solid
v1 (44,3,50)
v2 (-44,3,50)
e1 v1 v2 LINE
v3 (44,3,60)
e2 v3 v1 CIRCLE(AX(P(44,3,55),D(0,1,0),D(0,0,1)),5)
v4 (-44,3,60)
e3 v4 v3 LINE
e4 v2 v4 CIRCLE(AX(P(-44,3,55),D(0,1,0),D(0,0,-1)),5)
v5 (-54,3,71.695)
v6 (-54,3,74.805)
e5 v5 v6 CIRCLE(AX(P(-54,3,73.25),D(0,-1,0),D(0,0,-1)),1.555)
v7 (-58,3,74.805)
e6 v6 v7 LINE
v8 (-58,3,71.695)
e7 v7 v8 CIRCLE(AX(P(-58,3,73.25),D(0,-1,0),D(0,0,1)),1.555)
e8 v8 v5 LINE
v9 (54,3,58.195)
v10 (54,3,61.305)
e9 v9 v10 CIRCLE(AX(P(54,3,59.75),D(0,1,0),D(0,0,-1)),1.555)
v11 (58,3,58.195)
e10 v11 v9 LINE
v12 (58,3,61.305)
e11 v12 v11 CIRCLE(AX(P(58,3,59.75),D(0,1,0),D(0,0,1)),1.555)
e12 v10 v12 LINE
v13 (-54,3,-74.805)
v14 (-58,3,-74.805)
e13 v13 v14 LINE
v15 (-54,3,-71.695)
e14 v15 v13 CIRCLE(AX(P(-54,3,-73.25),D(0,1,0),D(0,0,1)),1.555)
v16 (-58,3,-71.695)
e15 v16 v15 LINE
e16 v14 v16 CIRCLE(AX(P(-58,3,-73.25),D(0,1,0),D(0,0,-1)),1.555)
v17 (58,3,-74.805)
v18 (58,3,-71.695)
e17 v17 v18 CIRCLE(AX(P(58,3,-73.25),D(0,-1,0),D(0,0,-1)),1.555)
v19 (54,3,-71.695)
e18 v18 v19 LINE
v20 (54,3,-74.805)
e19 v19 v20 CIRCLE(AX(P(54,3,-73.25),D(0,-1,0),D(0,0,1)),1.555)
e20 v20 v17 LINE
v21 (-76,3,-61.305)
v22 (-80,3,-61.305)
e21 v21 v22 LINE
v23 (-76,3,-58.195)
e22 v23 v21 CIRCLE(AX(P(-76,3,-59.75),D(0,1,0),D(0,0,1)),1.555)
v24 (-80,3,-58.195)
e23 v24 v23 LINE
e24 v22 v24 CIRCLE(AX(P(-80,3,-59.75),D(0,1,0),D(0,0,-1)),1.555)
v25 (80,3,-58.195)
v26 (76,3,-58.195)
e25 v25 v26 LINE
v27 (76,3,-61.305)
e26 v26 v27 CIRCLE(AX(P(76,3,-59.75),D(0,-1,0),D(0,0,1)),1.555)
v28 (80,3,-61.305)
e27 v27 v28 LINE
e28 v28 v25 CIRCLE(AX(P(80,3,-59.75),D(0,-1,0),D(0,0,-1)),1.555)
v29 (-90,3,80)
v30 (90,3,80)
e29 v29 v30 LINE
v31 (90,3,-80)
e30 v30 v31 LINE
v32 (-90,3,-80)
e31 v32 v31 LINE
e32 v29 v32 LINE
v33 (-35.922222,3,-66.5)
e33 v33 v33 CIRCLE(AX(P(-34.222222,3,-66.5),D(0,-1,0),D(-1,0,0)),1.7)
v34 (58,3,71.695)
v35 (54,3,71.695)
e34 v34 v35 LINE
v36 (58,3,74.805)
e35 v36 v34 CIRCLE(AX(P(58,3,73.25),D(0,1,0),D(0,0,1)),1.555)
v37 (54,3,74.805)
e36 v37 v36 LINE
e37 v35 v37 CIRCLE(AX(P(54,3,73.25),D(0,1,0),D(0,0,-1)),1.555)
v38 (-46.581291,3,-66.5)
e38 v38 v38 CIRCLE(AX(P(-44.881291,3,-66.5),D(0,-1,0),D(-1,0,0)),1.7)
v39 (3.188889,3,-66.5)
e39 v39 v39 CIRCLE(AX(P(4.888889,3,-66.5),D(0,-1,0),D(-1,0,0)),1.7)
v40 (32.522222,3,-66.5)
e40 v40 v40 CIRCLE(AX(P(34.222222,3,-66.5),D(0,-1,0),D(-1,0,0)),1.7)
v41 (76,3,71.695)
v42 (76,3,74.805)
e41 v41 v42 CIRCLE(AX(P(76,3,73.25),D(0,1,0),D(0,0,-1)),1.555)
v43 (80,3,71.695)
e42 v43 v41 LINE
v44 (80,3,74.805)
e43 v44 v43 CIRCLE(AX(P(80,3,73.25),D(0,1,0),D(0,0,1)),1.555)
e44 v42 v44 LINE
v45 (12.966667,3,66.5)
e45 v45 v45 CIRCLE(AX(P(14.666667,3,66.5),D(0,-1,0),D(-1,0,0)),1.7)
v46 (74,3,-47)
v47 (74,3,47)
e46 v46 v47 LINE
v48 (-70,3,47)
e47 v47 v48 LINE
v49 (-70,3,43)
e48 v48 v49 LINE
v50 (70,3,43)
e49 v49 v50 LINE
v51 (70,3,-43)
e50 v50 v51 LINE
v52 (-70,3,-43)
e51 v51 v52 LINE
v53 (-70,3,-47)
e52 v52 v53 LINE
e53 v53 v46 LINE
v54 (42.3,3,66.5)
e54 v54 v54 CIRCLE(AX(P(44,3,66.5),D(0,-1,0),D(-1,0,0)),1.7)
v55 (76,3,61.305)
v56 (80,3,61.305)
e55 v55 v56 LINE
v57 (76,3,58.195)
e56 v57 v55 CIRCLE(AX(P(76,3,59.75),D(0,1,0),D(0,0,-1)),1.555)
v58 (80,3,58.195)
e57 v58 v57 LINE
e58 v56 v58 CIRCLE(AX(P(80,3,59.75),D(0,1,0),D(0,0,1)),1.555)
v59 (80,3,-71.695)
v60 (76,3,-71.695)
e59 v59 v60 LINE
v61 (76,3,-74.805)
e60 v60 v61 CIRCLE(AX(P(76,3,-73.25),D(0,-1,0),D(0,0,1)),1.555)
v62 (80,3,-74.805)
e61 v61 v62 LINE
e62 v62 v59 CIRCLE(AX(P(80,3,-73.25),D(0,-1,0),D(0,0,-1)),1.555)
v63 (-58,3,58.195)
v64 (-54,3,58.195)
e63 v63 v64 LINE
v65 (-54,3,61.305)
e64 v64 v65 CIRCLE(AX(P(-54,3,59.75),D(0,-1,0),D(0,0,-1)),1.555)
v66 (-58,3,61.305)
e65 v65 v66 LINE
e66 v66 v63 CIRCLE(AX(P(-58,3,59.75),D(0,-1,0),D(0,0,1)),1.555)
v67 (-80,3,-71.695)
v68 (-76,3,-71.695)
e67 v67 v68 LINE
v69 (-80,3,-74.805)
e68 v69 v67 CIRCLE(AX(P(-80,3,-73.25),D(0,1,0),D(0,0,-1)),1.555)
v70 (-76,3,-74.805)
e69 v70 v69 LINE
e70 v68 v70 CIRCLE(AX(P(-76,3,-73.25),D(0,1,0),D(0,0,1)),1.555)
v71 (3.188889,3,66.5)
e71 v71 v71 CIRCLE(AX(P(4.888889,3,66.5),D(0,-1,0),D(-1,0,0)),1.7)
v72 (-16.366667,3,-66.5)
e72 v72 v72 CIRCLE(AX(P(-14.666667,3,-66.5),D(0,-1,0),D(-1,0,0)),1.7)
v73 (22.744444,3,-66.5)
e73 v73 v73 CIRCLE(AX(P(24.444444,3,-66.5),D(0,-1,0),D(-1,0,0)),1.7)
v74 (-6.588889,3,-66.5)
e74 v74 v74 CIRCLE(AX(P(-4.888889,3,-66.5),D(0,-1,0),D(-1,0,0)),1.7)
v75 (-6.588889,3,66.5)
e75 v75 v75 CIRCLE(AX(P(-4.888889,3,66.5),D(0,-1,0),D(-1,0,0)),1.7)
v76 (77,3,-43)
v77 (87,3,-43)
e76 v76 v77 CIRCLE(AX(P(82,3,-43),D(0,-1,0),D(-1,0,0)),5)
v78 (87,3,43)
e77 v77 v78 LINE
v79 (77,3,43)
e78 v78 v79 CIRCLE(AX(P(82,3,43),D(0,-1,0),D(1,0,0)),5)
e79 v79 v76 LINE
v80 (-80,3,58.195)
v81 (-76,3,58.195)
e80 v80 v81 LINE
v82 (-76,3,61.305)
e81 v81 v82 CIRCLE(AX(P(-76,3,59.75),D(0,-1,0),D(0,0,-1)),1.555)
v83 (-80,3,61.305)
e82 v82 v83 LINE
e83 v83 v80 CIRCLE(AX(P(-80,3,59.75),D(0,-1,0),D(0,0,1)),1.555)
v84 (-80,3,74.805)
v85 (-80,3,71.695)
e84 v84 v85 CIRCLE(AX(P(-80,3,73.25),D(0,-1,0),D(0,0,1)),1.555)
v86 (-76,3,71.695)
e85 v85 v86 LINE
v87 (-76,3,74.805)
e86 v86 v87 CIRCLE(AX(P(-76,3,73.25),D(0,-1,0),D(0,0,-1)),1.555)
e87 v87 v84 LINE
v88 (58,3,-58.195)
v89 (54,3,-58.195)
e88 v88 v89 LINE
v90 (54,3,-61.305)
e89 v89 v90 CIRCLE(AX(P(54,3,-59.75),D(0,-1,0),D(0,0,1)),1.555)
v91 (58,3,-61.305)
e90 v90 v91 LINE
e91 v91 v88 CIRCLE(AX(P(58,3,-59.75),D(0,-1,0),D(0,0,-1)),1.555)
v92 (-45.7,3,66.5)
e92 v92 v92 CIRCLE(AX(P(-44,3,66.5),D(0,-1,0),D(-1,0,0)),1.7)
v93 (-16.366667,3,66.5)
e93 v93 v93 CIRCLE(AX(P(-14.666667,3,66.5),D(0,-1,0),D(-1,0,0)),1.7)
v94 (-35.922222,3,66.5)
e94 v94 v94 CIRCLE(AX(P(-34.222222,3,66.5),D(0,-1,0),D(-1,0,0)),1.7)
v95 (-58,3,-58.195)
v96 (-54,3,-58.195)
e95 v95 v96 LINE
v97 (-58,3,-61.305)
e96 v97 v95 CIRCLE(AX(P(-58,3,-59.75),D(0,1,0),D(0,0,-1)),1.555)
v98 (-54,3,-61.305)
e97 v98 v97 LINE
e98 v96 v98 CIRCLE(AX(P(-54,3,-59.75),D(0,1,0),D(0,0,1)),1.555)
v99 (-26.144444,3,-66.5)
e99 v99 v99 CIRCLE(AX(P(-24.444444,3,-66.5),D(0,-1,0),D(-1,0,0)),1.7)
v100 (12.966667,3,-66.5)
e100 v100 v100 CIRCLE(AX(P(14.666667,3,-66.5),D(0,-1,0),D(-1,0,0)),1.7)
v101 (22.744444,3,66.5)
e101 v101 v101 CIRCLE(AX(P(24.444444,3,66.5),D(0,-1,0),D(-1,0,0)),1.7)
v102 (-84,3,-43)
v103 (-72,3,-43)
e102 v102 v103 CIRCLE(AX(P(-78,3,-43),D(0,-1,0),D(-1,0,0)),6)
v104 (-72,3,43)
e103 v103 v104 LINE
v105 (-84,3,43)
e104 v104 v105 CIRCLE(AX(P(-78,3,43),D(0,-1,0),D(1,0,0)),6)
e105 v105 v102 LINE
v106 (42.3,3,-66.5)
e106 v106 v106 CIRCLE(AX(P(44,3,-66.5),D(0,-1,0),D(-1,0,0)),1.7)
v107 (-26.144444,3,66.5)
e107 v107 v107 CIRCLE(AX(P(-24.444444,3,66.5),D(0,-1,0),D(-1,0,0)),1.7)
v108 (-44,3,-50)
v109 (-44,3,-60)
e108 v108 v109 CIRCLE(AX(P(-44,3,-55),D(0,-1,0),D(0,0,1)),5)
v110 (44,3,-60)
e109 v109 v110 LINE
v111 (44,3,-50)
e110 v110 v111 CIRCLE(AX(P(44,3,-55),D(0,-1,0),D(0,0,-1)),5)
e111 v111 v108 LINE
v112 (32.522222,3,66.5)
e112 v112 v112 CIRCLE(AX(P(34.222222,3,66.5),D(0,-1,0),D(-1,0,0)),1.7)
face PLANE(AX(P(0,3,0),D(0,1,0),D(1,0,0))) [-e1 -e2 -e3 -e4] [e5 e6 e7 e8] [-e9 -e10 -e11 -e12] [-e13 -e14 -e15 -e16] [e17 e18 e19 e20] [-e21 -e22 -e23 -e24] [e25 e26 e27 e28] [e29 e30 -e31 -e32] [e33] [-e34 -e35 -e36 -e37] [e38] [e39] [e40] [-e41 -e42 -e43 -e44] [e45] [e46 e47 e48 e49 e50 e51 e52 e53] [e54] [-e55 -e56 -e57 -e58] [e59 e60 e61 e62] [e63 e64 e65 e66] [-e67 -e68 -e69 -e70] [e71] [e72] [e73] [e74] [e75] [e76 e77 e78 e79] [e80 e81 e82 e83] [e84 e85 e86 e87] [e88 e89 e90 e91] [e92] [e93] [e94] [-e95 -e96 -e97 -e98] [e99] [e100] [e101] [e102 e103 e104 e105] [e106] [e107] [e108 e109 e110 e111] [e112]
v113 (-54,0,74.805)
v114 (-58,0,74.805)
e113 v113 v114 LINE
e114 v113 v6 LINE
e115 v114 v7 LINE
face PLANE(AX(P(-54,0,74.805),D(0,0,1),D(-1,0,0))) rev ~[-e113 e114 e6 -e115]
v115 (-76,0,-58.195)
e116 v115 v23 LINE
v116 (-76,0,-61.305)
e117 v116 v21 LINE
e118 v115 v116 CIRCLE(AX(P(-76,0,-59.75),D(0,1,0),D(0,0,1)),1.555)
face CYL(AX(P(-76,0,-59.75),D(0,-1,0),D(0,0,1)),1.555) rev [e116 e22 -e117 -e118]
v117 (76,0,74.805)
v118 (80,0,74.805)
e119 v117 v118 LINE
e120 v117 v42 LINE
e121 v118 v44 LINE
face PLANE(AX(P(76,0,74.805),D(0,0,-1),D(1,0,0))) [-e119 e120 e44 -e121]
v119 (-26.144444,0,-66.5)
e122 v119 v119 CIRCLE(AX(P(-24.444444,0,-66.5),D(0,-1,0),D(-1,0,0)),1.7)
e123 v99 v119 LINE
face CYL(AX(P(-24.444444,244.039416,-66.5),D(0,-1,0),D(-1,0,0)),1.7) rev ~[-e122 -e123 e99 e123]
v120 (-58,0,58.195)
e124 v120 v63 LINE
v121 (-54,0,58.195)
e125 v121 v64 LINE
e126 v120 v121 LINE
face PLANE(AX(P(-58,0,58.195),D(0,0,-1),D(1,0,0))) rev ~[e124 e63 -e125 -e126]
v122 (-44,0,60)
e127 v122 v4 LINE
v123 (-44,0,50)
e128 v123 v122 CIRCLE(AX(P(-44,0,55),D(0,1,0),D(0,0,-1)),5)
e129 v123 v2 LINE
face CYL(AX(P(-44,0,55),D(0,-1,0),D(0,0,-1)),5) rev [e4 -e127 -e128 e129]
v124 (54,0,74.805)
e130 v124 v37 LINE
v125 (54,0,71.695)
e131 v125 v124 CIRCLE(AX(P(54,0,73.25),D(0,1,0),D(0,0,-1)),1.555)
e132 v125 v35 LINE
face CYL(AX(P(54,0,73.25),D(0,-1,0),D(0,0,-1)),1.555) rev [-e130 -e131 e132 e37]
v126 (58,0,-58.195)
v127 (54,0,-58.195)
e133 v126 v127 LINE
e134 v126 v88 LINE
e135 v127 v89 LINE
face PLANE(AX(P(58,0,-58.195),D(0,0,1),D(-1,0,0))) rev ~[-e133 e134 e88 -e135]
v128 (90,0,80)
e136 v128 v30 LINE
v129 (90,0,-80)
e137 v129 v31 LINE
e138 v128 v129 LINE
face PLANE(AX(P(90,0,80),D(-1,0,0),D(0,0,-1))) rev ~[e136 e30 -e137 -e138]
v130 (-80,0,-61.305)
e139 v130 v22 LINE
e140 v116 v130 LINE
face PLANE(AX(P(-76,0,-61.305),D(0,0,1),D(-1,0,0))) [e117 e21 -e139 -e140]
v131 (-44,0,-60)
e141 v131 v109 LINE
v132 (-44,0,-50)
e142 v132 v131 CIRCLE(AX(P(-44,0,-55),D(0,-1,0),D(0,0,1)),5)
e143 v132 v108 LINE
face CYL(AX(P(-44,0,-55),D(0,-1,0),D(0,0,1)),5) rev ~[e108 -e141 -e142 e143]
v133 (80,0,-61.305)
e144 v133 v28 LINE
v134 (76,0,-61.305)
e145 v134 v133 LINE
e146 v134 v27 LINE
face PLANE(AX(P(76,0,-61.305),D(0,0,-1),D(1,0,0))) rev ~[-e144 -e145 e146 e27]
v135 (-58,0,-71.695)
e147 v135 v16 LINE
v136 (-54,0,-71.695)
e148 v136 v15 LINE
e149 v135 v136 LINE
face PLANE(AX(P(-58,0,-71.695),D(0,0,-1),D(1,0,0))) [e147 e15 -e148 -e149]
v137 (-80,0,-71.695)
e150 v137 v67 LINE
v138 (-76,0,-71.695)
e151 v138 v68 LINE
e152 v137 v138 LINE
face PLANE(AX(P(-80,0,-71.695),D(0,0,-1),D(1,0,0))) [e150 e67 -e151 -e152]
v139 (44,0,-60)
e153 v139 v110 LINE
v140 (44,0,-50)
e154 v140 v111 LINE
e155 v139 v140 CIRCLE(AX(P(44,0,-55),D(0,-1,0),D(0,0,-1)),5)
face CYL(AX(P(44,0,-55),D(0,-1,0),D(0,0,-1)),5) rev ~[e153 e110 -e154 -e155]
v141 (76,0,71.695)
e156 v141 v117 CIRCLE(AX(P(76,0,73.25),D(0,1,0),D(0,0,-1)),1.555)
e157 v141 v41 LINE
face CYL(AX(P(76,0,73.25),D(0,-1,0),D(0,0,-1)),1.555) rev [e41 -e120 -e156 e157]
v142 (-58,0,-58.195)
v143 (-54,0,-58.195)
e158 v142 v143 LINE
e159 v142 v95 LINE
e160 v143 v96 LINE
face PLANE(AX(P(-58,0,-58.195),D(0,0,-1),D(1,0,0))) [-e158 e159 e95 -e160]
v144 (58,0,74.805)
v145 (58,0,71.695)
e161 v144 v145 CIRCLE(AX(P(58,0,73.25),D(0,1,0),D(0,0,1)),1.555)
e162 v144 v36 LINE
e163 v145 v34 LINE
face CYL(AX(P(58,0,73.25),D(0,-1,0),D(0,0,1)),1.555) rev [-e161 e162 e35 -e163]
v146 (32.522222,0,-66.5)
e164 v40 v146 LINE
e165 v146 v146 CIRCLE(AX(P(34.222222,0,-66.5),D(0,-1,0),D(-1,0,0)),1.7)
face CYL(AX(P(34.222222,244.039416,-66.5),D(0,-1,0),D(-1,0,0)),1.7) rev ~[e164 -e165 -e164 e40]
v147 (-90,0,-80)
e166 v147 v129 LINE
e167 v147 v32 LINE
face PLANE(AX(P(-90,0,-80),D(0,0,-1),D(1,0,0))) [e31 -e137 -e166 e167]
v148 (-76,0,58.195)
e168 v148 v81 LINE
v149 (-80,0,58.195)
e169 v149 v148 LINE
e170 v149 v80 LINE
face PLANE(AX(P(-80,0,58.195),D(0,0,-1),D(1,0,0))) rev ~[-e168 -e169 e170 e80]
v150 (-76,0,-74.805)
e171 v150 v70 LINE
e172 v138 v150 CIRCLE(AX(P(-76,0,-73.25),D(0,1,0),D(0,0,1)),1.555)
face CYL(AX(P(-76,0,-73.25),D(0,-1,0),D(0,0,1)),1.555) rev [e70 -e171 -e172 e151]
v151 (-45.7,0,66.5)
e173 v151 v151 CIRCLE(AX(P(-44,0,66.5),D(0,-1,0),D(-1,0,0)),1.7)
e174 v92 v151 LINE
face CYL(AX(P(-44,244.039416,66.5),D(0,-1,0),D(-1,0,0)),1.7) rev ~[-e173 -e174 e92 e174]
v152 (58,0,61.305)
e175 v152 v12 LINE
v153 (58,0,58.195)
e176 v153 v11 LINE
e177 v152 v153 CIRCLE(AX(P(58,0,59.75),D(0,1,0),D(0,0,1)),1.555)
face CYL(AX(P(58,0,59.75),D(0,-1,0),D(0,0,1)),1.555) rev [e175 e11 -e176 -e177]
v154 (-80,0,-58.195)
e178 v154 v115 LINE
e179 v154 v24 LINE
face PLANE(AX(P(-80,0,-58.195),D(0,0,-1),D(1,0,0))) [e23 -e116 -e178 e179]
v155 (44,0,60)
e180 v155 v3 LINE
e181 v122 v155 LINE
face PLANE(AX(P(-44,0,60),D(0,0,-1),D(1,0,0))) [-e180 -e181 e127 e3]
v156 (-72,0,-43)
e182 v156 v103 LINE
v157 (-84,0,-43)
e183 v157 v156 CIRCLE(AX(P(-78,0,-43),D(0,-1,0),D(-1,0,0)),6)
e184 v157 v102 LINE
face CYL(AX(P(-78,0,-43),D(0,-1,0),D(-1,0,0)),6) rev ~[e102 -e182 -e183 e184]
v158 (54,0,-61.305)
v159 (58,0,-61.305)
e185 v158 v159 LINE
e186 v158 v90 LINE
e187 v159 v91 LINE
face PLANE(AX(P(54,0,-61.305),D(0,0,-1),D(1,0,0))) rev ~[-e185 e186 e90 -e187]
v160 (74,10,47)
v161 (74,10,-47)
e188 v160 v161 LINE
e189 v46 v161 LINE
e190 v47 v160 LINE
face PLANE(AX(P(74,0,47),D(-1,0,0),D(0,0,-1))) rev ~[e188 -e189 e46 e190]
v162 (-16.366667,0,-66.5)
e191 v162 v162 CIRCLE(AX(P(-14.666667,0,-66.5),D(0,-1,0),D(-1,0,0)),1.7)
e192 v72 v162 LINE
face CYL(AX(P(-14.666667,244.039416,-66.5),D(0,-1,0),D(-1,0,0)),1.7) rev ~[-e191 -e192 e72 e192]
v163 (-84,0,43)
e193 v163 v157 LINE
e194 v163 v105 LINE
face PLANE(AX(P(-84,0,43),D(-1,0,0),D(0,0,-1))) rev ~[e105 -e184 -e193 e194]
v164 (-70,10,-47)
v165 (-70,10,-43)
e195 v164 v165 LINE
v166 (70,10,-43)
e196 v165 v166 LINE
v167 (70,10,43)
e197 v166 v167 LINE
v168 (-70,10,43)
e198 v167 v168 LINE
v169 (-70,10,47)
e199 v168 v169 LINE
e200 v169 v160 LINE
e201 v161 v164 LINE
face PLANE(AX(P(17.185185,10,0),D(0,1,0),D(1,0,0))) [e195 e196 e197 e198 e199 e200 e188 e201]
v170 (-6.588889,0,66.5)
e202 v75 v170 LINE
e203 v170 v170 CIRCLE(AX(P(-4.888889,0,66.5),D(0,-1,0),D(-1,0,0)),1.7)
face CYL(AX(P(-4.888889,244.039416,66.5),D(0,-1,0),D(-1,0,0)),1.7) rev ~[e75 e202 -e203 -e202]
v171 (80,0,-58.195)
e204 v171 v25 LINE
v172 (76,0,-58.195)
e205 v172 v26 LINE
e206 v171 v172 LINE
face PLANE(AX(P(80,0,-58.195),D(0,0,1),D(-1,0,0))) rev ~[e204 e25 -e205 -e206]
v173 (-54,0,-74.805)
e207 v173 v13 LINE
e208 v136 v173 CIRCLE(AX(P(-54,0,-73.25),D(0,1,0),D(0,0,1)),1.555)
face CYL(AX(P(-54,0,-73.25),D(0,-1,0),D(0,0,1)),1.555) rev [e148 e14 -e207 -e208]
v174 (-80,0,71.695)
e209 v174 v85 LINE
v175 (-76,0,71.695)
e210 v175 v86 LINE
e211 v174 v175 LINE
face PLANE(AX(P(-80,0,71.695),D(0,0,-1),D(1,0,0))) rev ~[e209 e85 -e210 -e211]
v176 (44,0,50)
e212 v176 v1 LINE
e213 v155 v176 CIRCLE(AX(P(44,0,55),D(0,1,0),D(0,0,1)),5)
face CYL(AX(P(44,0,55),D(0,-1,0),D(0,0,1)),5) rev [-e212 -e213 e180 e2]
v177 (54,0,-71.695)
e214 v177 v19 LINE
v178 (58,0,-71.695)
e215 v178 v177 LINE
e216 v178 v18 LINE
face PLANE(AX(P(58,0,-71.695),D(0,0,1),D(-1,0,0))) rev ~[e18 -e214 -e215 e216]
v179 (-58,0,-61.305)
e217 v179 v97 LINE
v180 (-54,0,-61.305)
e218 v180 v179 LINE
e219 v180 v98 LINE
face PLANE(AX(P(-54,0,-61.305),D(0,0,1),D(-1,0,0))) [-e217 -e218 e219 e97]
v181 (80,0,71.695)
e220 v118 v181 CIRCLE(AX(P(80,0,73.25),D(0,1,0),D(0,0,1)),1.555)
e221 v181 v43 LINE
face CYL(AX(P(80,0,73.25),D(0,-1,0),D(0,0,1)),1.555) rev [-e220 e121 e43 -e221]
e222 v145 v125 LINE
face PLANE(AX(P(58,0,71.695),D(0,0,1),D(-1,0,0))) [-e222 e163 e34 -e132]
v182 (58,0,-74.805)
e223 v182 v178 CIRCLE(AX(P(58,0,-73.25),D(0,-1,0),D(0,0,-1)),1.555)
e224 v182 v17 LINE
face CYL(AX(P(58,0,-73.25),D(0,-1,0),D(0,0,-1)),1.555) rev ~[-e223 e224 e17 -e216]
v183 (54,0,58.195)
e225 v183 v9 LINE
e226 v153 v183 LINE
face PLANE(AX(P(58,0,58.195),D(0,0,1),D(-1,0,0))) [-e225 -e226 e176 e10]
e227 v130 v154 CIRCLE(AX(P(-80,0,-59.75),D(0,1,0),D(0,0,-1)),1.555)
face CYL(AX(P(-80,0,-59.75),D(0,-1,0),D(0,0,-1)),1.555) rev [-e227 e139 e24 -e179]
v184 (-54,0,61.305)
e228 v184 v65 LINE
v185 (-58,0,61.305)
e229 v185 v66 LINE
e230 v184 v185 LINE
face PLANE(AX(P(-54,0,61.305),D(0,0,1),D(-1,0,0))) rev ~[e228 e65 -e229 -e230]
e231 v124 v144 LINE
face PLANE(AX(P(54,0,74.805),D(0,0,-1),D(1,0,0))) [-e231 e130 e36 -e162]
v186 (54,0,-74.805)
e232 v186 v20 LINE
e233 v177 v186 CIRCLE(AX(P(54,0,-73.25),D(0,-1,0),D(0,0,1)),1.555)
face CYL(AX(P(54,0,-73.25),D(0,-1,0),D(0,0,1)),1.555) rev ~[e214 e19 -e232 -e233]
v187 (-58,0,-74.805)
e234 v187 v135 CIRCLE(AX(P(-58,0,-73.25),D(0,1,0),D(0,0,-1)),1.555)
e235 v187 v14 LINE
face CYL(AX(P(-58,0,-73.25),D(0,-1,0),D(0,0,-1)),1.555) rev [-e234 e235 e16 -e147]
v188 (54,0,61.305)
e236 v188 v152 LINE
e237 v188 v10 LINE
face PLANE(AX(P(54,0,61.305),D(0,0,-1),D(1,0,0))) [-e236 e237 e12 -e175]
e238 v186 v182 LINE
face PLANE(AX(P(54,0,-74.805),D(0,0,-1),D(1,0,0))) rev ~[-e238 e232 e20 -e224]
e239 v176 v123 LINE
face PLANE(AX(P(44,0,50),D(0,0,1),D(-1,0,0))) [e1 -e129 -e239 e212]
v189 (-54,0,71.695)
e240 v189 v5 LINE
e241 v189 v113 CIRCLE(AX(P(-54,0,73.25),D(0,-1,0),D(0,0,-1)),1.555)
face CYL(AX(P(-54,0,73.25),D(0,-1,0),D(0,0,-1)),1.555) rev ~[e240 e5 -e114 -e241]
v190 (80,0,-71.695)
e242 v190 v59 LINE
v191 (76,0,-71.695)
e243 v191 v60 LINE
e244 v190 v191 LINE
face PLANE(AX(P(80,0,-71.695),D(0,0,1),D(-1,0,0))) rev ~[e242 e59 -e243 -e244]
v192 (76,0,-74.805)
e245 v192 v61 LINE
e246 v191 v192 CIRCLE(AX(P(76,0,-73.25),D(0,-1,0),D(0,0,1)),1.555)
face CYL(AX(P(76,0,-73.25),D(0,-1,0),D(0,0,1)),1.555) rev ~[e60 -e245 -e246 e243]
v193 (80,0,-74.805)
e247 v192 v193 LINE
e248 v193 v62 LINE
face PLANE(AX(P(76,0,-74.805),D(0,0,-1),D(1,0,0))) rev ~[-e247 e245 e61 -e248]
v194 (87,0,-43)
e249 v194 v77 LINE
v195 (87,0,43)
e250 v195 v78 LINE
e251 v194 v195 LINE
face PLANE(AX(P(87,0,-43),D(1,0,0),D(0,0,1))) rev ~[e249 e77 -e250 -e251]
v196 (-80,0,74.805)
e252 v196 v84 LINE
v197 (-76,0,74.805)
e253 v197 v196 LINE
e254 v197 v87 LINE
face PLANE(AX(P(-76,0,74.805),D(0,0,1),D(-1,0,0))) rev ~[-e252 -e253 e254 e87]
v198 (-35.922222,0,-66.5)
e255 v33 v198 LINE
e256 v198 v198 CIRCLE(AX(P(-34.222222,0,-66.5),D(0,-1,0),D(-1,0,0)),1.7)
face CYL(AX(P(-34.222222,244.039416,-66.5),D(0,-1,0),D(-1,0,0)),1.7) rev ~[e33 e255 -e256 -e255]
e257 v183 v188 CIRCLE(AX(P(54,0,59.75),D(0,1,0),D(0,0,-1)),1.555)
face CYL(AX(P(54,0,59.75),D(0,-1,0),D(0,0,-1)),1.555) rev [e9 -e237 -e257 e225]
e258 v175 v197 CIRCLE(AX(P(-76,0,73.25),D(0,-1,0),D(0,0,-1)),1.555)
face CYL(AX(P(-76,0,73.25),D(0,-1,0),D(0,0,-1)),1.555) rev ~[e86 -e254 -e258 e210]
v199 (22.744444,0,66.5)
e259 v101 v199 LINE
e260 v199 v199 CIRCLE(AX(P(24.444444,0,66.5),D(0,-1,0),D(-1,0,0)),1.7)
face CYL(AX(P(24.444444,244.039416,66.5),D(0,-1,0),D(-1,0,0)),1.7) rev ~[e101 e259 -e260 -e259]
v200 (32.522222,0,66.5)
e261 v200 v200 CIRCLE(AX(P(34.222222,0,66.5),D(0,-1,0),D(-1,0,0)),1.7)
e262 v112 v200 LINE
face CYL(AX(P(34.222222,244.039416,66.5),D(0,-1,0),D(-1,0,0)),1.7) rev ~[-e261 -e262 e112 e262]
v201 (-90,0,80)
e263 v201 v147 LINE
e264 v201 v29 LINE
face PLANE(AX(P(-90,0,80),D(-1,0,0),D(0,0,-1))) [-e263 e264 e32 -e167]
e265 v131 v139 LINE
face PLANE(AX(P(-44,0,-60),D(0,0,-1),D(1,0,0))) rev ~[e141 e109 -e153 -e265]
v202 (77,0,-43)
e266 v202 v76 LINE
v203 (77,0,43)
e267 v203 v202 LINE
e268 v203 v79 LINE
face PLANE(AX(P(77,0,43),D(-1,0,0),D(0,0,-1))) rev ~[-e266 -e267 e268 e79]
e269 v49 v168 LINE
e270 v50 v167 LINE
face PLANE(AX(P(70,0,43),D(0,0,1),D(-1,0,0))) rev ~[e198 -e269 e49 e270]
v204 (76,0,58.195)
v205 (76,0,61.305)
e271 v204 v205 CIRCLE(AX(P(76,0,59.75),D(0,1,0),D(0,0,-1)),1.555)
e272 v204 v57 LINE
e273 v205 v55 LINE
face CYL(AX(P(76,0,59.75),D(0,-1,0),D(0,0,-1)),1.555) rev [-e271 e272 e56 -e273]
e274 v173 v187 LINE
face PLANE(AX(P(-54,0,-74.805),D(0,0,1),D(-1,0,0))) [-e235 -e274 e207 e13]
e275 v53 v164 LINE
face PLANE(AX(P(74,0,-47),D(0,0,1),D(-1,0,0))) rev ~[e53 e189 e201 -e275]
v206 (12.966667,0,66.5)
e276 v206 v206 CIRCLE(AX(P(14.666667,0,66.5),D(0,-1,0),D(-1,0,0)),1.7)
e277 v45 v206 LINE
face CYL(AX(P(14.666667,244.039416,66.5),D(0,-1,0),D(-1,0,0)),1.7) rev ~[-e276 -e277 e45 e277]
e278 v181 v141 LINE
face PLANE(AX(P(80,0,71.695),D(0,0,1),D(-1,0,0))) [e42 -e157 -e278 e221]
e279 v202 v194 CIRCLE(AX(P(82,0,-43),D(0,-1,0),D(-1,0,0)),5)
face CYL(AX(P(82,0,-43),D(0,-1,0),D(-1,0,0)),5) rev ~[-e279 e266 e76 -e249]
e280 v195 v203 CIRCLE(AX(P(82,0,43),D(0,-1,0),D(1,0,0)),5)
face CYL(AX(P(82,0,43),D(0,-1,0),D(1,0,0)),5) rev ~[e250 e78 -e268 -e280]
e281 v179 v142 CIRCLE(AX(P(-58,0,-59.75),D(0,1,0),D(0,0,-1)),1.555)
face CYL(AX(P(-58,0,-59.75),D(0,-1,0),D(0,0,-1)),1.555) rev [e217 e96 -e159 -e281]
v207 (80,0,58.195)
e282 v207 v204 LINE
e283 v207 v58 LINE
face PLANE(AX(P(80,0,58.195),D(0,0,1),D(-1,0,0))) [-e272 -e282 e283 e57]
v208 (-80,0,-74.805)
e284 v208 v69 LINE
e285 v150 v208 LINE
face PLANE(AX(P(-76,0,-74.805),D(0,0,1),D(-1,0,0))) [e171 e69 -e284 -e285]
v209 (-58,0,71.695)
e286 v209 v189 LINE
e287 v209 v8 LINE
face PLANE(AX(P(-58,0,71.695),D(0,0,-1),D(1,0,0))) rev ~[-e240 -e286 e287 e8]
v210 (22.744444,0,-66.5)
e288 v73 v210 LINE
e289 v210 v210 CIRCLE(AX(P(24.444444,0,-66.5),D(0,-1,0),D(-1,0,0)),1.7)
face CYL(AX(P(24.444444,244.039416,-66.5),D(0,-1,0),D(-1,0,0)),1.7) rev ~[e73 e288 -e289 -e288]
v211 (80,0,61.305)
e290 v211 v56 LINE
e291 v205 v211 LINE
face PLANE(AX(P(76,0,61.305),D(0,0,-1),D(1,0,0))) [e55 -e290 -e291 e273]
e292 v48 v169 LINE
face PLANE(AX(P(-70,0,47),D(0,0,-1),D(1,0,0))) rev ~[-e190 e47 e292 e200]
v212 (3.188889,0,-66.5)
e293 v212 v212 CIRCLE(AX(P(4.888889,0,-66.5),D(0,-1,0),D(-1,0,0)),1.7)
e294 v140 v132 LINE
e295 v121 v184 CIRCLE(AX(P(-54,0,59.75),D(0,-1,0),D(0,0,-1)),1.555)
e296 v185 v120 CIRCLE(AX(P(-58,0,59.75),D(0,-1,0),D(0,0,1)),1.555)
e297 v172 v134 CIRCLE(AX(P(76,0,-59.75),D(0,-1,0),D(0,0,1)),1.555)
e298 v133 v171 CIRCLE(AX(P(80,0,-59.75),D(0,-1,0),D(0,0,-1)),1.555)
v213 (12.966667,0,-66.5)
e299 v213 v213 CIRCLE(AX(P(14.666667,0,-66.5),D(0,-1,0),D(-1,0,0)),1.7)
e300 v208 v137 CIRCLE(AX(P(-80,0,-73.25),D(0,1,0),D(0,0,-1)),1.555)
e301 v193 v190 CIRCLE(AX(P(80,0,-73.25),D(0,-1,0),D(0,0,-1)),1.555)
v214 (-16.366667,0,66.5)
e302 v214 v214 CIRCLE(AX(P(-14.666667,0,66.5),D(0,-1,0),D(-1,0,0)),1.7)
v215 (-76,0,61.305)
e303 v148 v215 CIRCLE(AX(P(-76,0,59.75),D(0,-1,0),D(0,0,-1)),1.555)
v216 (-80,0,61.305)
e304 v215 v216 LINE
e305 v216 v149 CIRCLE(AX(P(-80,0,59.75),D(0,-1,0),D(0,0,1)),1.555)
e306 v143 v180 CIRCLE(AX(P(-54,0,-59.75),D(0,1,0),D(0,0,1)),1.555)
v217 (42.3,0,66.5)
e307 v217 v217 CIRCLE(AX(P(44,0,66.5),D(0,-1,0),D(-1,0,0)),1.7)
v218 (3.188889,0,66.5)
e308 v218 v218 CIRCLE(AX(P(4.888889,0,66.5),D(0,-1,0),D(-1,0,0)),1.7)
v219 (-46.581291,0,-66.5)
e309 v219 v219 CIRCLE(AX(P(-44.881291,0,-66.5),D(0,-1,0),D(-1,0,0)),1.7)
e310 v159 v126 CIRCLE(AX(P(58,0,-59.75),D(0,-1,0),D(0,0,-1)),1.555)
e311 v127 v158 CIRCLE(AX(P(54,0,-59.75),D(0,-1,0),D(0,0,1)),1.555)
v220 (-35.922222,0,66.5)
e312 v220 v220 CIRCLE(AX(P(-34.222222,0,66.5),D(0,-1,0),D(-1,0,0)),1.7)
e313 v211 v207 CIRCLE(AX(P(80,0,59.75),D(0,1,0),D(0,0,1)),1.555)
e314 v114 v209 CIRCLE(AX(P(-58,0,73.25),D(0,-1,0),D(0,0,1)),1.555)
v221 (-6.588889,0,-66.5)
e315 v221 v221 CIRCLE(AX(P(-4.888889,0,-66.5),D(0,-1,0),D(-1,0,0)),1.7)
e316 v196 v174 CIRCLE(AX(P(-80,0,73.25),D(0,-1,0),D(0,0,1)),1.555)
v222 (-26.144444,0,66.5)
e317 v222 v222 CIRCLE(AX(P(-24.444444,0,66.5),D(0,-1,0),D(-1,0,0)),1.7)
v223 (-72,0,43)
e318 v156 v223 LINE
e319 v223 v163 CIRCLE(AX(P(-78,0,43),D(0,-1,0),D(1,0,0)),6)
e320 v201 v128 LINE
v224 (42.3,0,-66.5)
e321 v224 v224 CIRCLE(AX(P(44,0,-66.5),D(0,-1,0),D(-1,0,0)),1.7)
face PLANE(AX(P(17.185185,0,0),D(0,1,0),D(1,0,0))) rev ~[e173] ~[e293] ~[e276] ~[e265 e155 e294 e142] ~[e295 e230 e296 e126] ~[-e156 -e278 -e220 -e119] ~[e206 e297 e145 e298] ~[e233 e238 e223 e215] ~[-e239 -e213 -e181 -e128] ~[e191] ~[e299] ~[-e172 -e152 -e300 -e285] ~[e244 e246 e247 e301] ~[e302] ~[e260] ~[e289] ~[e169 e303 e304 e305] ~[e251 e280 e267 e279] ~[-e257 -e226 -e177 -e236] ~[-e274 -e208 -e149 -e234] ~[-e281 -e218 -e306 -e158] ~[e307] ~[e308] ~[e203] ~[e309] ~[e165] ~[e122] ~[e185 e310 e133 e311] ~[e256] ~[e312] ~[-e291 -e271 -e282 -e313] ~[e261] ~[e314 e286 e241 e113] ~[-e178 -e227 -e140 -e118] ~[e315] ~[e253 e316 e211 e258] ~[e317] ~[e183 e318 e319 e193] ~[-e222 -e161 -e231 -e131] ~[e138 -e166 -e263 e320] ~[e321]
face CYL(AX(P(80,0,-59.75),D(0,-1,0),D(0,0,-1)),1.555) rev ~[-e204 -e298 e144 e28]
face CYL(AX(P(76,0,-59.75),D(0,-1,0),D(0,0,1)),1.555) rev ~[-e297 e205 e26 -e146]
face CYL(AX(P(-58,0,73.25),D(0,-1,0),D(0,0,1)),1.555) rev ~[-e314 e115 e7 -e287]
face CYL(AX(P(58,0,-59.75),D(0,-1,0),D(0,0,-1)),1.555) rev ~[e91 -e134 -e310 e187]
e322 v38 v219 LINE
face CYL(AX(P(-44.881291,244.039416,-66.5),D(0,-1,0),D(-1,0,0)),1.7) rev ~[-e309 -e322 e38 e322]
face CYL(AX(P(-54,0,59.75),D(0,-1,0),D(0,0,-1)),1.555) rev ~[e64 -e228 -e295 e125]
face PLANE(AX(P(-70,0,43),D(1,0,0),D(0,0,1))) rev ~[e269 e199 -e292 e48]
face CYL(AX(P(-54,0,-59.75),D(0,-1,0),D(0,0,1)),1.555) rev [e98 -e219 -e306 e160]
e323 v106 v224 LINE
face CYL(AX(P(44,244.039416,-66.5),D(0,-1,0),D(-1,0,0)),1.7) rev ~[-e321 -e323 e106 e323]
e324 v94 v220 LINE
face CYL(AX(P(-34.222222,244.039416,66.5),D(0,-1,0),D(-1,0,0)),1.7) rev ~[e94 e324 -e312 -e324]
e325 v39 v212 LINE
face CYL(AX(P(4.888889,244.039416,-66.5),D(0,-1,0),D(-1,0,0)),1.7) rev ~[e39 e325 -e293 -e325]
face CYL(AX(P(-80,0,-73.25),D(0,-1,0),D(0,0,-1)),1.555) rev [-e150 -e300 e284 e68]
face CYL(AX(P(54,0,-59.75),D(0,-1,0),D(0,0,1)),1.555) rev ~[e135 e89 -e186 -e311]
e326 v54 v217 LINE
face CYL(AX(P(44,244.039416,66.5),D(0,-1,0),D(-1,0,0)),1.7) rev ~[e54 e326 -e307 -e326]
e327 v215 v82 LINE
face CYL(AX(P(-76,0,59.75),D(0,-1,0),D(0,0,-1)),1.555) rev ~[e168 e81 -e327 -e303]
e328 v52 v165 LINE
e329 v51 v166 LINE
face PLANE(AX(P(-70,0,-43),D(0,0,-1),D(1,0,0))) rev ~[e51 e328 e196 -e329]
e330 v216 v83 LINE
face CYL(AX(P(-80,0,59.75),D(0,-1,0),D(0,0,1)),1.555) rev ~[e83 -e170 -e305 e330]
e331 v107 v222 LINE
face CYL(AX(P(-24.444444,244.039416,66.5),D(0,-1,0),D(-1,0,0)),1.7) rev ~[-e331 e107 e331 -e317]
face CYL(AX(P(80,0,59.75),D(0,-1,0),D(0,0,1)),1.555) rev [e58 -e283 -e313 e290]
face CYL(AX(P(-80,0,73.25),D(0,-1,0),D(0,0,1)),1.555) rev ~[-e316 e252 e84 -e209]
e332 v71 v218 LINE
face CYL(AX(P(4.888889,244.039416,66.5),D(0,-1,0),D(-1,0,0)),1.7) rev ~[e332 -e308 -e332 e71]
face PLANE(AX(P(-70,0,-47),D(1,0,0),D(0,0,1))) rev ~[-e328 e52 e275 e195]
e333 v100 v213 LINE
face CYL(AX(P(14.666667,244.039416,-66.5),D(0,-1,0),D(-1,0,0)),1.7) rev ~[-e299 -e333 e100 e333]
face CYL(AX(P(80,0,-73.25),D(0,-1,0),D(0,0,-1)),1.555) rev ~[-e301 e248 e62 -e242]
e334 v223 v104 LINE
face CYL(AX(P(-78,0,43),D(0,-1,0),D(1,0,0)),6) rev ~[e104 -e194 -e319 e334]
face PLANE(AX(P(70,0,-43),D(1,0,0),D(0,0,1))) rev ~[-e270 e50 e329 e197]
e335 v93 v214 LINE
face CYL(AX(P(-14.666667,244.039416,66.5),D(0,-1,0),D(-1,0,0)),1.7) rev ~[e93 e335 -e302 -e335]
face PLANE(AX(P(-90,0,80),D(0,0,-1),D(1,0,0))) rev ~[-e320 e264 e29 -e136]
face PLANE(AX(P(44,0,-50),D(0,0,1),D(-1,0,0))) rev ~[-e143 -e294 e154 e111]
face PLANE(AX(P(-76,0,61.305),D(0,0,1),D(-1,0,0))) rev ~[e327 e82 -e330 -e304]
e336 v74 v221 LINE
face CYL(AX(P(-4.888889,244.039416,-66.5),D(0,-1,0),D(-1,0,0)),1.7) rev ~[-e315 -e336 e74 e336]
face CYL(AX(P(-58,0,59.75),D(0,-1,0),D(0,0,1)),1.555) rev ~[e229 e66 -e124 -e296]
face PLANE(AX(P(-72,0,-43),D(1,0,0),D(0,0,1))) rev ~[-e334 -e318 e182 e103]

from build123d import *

# Parameters (mm, degrees)
SKETCH1_W            = 180
SKETCH1_H            = 160
BOSS_EXTRUDE1_DEPTH  = 3
BOSS_EXTRUDE2_DEPTH  = 10
M3_CLEARANCE_HOLE1_D = 3.4


with BuildPart() as part:
    # Sketch1 → Boss-Extrude1 (new body)
    with BuildSketch(Plane(origin=(0, 0, 0), x_dir=(1, 0, 0), z_dir=(0, 1, 0))):
        Rectangle(SKETCH1_W, SKETCH1_H)
        with BuildLine():
            Line((-80, -58.195), (-76, -58.195))
            ThreePointArc((-76, -58.195), (-74.445, -59.75), (-76, -61.305))
            Line((-76, -61.305), (-80, -61.305))
            ThreePointArc((-80, -61.305), (-81.555, -59.75), (-80, -58.195))
        make_face(mode=Mode.SUBTRACT)
        with BuildLine():
            Line((-58, -58.195), (-54, -58.195))
            ThreePointArc((-54, -58.195), (-52.445, -59.75), (-54, -61.305))
            Line((-54, -61.305), (-58, -61.305))
            ThreePointArc((-58, -61.305), (-59.555, -59.75), (-58, -58.195))
        make_face(mode=Mode.SUBTRACT)
        with BuildLine():
            Line((-80, -71.695), (-76, -71.695))
            ThreePointArc((-76, -71.695), (-74.445, -73.25), (-76, -74.805))
            Line((-76, -74.805), (-80, -74.805))
            ThreePointArc((-80, -74.805), (-81.555, -73.25), (-80, -71.695))
        make_face(mode=Mode.SUBTRACT)
        with BuildLine():
            Line((-58, -71.695), (-54, -71.695))
            ThreePointArc((-54, -71.695), (-52.445, -73.25), (-54, -74.805))
            Line((-54, -74.805), (-58, -74.805))
            ThreePointArc((-58, -74.805), (-59.555, -73.25), (-58, -71.695))
        make_face(mode=Mode.SUBTRACT)
        with BuildLine():
            Line((-80, 71.695), (-76, 71.695))
            ThreePointArc((-76, 71.695), (-74.445, 73.25), (-76, 74.805))
            Line((-76, 74.805), (-80, 74.805))
            ThreePointArc((-80, 74.805), (-81.555, 73.25), (-80, 71.695))
        make_face(mode=Mode.SUBTRACT)
        with BuildLine():
            Line((-58, 71.695), (-54, 71.695))
            ThreePointArc((-54, 71.695), (-52.445, 73.25), (-54, 74.805))
            Line((-54, 74.805), (-58, 74.805))
            ThreePointArc((-58, 74.805), (-59.555, 73.25), (-58, 71.695))
        make_face(mode=Mode.SUBTRACT)
        with BuildLine():
            Line((-58, 58.195), (-54, 58.195))
            ThreePointArc((-54, 58.195), (-52.445, 59.75), (-54, 61.305))
            Line((-54, 61.305), (-58, 61.305))
            ThreePointArc((-58, 61.305), (-59.555, 59.75), (-58, 58.195))
        make_face(mode=Mode.SUBTRACT)
        with BuildLine():
            Line((-80, 58.195), (-76, 58.195))
            ThreePointArc((-76, 58.195), (-74.445, 59.75), (-76, 61.305))
            Line((-76, 61.305), (-80, 61.305))
            ThreePointArc((-80, 61.305), (-81.555, 59.75), (-80, 58.195))
        make_face(mode=Mode.SUBTRACT)
        with BuildLine():
            Line((80, -71.695), (76, -71.695))
            ThreePointArc((76, -71.695), (74.445, -73.25), (76, -74.805))
            Line((76, -74.805), (80, -74.805))
            ThreePointArc((80, -74.805), (81.555, -73.25), (80, -71.695))
        make_face(mode=Mode.SUBTRACT)
        with BuildLine():
            Line((80, -58.195), (76, -58.195))
            ThreePointArc((76, -58.195), (74.445, -59.75), (76, -61.305))
            Line((76, -61.305), (80, -61.305))
            ThreePointArc((80, -61.305), (81.555, -59.75), (80, -58.195))
        make_face(mode=Mode.SUBTRACT)
        with BuildLine():
            Line((58, -58.195), (54, -58.195))
            ThreePointArc((54, -58.195), (52.445, -59.75), (54, -61.305))
            Line((54, -61.305), (58, -61.305))
            ThreePointArc((58, -61.305), (59.555, -59.75), (58, -58.195))
        make_face(mode=Mode.SUBTRACT)
        with BuildLine():
            Line((58, -71.695), (54, -71.695))
            ThreePointArc((54, -71.695), (52.445, -73.25), (54, -74.805))
            Line((54, -74.805), (58, -74.805))
            ThreePointArc((58, -74.805), (59.555, -73.25), (58, -71.695))
        make_face(mode=Mode.SUBTRACT)
        with BuildLine():
            Line((80, 58.195), (76, 58.195))
            ThreePointArc((76, 58.195), (74.445, 59.75), (76, 61.305))
            Line((76, 61.305), (80, 61.305))
            ThreePointArc((80, 61.305), (81.555, 59.75), (80, 58.195))
        make_face(mode=Mode.SUBTRACT)
        with BuildLine():
            Line((58, 58.195), (54, 58.195))
            ThreePointArc((54, 58.195), (52.445, 59.75), (54, 61.305))
            Line((54, 61.305), (58, 61.305))
            ThreePointArc((58, 61.305), (59.555, 59.75), (58, 58.195))
        make_face(mode=Mode.SUBTRACT)
        with BuildLine():
            Line((58, 71.695), (54, 71.695))
            ThreePointArc((54, 71.695), (52.445, 73.25), (54, 74.805))
            Line((54, 74.805), (58, 74.805))
            ThreePointArc((58, 74.805), (59.555, 73.25), (58, 71.695))
        make_face(mode=Mode.SUBTRACT)
        with BuildLine():
            Line((80, 71.695), (76, 71.695))
            ThreePointArc((76, 71.695), (74.445, 73.25), (76, 74.805))
            Line((76, 74.805), (80, 74.805))
            ThreePointArc((80, 74.805), (81.555, 73.25), (80, 71.695))
        make_face(mode=Mode.SUBTRACT)
        with BuildLine():
            Line((-84, -43), (-84, 43))
            ThreePointArc((-84, 43), (-78, 49), (-72, 43))
            Line((-72, 43), (-72, -43))
            ThreePointArc((-72, -43), (-78, -49), (-84, -43))
        make_face(mode=Mode.SUBTRACT)
        with BuildLine():
            Line((77, -43), (77, 43))
            ThreePointArc((77, 43), (82, 48), (87, 43))
            Line((87, 43), (87, -43))
            ThreePointArc((87, -43), (82, -48), (77, -43))
        make_face(mode=Mode.SUBTRACT)
        with BuildLine():
            Line((-44, 60), (44, 60))
            ThreePointArc((44, 60), (49, 55), (44, 50))
            Line((44, 50), (-44, 50))
            ThreePointArc((-44, 50), (-49, 55), (-44, 60))
        make_face(mode=Mode.SUBTRACT)
        with BuildLine():
            Line((-44, -60), (44, -60))
            ThreePointArc((44, -60), (49, -55), (44, -50))
            Line((44, -50), (-44, -50))
            ThreePointArc((-44, -50), (-49, -55), (-44, -60))
        make_face(mode=Mode.SUBTRACT)
    extrude(amount=BOSS_EXTRUDE1_DEPTH)

    # Sketch1<3> → Boss-Extrude2 (add)
    with BuildSketch(Plane(origin=(0, 0, 0), x_dir=(1, 0, 0), z_dir=(0, 1, 0))):
        Polygon((-70, 47), (-70, 43), (70, 43), (70, -43), (-70, -43), (-70, -47), (74, -47), (74, 47), align=None)
    extrude(amount=BOSS_EXTRUDE2_DEPTH)

    # M3 Clearance Hole1 (through all)
    with Locations(Plane(origin=(0, 3, 0), x_dir=(1, 0, 0), z_dir=(0, 1, 0))):
        with Locations((-44, -66.5), (-34.222222222, -66.5), (-24.444444444, -66.5), (-14.666666667, -66.5), (-4.888888889, -66.5), (4.888888889, -66.5), (14.666666667, -66.5), (24.444444444, -66.5), (34.222222222, -66.5), (44, -66.5), (44, 66.5), (34.222222222, 66.5), (24.444444444, 66.5), (14.666666667, 66.5), (4.888888889, 66.5), (-4.888888889, 66.5), (-14.666666667, 66.5), (-24.444444444, 66.5), (-34.222222222, 66.5), (-44.881291433, 66.5)):
            Hole(M3_CLEARANCE_HOLE1_D / 2)


solid = part.part
